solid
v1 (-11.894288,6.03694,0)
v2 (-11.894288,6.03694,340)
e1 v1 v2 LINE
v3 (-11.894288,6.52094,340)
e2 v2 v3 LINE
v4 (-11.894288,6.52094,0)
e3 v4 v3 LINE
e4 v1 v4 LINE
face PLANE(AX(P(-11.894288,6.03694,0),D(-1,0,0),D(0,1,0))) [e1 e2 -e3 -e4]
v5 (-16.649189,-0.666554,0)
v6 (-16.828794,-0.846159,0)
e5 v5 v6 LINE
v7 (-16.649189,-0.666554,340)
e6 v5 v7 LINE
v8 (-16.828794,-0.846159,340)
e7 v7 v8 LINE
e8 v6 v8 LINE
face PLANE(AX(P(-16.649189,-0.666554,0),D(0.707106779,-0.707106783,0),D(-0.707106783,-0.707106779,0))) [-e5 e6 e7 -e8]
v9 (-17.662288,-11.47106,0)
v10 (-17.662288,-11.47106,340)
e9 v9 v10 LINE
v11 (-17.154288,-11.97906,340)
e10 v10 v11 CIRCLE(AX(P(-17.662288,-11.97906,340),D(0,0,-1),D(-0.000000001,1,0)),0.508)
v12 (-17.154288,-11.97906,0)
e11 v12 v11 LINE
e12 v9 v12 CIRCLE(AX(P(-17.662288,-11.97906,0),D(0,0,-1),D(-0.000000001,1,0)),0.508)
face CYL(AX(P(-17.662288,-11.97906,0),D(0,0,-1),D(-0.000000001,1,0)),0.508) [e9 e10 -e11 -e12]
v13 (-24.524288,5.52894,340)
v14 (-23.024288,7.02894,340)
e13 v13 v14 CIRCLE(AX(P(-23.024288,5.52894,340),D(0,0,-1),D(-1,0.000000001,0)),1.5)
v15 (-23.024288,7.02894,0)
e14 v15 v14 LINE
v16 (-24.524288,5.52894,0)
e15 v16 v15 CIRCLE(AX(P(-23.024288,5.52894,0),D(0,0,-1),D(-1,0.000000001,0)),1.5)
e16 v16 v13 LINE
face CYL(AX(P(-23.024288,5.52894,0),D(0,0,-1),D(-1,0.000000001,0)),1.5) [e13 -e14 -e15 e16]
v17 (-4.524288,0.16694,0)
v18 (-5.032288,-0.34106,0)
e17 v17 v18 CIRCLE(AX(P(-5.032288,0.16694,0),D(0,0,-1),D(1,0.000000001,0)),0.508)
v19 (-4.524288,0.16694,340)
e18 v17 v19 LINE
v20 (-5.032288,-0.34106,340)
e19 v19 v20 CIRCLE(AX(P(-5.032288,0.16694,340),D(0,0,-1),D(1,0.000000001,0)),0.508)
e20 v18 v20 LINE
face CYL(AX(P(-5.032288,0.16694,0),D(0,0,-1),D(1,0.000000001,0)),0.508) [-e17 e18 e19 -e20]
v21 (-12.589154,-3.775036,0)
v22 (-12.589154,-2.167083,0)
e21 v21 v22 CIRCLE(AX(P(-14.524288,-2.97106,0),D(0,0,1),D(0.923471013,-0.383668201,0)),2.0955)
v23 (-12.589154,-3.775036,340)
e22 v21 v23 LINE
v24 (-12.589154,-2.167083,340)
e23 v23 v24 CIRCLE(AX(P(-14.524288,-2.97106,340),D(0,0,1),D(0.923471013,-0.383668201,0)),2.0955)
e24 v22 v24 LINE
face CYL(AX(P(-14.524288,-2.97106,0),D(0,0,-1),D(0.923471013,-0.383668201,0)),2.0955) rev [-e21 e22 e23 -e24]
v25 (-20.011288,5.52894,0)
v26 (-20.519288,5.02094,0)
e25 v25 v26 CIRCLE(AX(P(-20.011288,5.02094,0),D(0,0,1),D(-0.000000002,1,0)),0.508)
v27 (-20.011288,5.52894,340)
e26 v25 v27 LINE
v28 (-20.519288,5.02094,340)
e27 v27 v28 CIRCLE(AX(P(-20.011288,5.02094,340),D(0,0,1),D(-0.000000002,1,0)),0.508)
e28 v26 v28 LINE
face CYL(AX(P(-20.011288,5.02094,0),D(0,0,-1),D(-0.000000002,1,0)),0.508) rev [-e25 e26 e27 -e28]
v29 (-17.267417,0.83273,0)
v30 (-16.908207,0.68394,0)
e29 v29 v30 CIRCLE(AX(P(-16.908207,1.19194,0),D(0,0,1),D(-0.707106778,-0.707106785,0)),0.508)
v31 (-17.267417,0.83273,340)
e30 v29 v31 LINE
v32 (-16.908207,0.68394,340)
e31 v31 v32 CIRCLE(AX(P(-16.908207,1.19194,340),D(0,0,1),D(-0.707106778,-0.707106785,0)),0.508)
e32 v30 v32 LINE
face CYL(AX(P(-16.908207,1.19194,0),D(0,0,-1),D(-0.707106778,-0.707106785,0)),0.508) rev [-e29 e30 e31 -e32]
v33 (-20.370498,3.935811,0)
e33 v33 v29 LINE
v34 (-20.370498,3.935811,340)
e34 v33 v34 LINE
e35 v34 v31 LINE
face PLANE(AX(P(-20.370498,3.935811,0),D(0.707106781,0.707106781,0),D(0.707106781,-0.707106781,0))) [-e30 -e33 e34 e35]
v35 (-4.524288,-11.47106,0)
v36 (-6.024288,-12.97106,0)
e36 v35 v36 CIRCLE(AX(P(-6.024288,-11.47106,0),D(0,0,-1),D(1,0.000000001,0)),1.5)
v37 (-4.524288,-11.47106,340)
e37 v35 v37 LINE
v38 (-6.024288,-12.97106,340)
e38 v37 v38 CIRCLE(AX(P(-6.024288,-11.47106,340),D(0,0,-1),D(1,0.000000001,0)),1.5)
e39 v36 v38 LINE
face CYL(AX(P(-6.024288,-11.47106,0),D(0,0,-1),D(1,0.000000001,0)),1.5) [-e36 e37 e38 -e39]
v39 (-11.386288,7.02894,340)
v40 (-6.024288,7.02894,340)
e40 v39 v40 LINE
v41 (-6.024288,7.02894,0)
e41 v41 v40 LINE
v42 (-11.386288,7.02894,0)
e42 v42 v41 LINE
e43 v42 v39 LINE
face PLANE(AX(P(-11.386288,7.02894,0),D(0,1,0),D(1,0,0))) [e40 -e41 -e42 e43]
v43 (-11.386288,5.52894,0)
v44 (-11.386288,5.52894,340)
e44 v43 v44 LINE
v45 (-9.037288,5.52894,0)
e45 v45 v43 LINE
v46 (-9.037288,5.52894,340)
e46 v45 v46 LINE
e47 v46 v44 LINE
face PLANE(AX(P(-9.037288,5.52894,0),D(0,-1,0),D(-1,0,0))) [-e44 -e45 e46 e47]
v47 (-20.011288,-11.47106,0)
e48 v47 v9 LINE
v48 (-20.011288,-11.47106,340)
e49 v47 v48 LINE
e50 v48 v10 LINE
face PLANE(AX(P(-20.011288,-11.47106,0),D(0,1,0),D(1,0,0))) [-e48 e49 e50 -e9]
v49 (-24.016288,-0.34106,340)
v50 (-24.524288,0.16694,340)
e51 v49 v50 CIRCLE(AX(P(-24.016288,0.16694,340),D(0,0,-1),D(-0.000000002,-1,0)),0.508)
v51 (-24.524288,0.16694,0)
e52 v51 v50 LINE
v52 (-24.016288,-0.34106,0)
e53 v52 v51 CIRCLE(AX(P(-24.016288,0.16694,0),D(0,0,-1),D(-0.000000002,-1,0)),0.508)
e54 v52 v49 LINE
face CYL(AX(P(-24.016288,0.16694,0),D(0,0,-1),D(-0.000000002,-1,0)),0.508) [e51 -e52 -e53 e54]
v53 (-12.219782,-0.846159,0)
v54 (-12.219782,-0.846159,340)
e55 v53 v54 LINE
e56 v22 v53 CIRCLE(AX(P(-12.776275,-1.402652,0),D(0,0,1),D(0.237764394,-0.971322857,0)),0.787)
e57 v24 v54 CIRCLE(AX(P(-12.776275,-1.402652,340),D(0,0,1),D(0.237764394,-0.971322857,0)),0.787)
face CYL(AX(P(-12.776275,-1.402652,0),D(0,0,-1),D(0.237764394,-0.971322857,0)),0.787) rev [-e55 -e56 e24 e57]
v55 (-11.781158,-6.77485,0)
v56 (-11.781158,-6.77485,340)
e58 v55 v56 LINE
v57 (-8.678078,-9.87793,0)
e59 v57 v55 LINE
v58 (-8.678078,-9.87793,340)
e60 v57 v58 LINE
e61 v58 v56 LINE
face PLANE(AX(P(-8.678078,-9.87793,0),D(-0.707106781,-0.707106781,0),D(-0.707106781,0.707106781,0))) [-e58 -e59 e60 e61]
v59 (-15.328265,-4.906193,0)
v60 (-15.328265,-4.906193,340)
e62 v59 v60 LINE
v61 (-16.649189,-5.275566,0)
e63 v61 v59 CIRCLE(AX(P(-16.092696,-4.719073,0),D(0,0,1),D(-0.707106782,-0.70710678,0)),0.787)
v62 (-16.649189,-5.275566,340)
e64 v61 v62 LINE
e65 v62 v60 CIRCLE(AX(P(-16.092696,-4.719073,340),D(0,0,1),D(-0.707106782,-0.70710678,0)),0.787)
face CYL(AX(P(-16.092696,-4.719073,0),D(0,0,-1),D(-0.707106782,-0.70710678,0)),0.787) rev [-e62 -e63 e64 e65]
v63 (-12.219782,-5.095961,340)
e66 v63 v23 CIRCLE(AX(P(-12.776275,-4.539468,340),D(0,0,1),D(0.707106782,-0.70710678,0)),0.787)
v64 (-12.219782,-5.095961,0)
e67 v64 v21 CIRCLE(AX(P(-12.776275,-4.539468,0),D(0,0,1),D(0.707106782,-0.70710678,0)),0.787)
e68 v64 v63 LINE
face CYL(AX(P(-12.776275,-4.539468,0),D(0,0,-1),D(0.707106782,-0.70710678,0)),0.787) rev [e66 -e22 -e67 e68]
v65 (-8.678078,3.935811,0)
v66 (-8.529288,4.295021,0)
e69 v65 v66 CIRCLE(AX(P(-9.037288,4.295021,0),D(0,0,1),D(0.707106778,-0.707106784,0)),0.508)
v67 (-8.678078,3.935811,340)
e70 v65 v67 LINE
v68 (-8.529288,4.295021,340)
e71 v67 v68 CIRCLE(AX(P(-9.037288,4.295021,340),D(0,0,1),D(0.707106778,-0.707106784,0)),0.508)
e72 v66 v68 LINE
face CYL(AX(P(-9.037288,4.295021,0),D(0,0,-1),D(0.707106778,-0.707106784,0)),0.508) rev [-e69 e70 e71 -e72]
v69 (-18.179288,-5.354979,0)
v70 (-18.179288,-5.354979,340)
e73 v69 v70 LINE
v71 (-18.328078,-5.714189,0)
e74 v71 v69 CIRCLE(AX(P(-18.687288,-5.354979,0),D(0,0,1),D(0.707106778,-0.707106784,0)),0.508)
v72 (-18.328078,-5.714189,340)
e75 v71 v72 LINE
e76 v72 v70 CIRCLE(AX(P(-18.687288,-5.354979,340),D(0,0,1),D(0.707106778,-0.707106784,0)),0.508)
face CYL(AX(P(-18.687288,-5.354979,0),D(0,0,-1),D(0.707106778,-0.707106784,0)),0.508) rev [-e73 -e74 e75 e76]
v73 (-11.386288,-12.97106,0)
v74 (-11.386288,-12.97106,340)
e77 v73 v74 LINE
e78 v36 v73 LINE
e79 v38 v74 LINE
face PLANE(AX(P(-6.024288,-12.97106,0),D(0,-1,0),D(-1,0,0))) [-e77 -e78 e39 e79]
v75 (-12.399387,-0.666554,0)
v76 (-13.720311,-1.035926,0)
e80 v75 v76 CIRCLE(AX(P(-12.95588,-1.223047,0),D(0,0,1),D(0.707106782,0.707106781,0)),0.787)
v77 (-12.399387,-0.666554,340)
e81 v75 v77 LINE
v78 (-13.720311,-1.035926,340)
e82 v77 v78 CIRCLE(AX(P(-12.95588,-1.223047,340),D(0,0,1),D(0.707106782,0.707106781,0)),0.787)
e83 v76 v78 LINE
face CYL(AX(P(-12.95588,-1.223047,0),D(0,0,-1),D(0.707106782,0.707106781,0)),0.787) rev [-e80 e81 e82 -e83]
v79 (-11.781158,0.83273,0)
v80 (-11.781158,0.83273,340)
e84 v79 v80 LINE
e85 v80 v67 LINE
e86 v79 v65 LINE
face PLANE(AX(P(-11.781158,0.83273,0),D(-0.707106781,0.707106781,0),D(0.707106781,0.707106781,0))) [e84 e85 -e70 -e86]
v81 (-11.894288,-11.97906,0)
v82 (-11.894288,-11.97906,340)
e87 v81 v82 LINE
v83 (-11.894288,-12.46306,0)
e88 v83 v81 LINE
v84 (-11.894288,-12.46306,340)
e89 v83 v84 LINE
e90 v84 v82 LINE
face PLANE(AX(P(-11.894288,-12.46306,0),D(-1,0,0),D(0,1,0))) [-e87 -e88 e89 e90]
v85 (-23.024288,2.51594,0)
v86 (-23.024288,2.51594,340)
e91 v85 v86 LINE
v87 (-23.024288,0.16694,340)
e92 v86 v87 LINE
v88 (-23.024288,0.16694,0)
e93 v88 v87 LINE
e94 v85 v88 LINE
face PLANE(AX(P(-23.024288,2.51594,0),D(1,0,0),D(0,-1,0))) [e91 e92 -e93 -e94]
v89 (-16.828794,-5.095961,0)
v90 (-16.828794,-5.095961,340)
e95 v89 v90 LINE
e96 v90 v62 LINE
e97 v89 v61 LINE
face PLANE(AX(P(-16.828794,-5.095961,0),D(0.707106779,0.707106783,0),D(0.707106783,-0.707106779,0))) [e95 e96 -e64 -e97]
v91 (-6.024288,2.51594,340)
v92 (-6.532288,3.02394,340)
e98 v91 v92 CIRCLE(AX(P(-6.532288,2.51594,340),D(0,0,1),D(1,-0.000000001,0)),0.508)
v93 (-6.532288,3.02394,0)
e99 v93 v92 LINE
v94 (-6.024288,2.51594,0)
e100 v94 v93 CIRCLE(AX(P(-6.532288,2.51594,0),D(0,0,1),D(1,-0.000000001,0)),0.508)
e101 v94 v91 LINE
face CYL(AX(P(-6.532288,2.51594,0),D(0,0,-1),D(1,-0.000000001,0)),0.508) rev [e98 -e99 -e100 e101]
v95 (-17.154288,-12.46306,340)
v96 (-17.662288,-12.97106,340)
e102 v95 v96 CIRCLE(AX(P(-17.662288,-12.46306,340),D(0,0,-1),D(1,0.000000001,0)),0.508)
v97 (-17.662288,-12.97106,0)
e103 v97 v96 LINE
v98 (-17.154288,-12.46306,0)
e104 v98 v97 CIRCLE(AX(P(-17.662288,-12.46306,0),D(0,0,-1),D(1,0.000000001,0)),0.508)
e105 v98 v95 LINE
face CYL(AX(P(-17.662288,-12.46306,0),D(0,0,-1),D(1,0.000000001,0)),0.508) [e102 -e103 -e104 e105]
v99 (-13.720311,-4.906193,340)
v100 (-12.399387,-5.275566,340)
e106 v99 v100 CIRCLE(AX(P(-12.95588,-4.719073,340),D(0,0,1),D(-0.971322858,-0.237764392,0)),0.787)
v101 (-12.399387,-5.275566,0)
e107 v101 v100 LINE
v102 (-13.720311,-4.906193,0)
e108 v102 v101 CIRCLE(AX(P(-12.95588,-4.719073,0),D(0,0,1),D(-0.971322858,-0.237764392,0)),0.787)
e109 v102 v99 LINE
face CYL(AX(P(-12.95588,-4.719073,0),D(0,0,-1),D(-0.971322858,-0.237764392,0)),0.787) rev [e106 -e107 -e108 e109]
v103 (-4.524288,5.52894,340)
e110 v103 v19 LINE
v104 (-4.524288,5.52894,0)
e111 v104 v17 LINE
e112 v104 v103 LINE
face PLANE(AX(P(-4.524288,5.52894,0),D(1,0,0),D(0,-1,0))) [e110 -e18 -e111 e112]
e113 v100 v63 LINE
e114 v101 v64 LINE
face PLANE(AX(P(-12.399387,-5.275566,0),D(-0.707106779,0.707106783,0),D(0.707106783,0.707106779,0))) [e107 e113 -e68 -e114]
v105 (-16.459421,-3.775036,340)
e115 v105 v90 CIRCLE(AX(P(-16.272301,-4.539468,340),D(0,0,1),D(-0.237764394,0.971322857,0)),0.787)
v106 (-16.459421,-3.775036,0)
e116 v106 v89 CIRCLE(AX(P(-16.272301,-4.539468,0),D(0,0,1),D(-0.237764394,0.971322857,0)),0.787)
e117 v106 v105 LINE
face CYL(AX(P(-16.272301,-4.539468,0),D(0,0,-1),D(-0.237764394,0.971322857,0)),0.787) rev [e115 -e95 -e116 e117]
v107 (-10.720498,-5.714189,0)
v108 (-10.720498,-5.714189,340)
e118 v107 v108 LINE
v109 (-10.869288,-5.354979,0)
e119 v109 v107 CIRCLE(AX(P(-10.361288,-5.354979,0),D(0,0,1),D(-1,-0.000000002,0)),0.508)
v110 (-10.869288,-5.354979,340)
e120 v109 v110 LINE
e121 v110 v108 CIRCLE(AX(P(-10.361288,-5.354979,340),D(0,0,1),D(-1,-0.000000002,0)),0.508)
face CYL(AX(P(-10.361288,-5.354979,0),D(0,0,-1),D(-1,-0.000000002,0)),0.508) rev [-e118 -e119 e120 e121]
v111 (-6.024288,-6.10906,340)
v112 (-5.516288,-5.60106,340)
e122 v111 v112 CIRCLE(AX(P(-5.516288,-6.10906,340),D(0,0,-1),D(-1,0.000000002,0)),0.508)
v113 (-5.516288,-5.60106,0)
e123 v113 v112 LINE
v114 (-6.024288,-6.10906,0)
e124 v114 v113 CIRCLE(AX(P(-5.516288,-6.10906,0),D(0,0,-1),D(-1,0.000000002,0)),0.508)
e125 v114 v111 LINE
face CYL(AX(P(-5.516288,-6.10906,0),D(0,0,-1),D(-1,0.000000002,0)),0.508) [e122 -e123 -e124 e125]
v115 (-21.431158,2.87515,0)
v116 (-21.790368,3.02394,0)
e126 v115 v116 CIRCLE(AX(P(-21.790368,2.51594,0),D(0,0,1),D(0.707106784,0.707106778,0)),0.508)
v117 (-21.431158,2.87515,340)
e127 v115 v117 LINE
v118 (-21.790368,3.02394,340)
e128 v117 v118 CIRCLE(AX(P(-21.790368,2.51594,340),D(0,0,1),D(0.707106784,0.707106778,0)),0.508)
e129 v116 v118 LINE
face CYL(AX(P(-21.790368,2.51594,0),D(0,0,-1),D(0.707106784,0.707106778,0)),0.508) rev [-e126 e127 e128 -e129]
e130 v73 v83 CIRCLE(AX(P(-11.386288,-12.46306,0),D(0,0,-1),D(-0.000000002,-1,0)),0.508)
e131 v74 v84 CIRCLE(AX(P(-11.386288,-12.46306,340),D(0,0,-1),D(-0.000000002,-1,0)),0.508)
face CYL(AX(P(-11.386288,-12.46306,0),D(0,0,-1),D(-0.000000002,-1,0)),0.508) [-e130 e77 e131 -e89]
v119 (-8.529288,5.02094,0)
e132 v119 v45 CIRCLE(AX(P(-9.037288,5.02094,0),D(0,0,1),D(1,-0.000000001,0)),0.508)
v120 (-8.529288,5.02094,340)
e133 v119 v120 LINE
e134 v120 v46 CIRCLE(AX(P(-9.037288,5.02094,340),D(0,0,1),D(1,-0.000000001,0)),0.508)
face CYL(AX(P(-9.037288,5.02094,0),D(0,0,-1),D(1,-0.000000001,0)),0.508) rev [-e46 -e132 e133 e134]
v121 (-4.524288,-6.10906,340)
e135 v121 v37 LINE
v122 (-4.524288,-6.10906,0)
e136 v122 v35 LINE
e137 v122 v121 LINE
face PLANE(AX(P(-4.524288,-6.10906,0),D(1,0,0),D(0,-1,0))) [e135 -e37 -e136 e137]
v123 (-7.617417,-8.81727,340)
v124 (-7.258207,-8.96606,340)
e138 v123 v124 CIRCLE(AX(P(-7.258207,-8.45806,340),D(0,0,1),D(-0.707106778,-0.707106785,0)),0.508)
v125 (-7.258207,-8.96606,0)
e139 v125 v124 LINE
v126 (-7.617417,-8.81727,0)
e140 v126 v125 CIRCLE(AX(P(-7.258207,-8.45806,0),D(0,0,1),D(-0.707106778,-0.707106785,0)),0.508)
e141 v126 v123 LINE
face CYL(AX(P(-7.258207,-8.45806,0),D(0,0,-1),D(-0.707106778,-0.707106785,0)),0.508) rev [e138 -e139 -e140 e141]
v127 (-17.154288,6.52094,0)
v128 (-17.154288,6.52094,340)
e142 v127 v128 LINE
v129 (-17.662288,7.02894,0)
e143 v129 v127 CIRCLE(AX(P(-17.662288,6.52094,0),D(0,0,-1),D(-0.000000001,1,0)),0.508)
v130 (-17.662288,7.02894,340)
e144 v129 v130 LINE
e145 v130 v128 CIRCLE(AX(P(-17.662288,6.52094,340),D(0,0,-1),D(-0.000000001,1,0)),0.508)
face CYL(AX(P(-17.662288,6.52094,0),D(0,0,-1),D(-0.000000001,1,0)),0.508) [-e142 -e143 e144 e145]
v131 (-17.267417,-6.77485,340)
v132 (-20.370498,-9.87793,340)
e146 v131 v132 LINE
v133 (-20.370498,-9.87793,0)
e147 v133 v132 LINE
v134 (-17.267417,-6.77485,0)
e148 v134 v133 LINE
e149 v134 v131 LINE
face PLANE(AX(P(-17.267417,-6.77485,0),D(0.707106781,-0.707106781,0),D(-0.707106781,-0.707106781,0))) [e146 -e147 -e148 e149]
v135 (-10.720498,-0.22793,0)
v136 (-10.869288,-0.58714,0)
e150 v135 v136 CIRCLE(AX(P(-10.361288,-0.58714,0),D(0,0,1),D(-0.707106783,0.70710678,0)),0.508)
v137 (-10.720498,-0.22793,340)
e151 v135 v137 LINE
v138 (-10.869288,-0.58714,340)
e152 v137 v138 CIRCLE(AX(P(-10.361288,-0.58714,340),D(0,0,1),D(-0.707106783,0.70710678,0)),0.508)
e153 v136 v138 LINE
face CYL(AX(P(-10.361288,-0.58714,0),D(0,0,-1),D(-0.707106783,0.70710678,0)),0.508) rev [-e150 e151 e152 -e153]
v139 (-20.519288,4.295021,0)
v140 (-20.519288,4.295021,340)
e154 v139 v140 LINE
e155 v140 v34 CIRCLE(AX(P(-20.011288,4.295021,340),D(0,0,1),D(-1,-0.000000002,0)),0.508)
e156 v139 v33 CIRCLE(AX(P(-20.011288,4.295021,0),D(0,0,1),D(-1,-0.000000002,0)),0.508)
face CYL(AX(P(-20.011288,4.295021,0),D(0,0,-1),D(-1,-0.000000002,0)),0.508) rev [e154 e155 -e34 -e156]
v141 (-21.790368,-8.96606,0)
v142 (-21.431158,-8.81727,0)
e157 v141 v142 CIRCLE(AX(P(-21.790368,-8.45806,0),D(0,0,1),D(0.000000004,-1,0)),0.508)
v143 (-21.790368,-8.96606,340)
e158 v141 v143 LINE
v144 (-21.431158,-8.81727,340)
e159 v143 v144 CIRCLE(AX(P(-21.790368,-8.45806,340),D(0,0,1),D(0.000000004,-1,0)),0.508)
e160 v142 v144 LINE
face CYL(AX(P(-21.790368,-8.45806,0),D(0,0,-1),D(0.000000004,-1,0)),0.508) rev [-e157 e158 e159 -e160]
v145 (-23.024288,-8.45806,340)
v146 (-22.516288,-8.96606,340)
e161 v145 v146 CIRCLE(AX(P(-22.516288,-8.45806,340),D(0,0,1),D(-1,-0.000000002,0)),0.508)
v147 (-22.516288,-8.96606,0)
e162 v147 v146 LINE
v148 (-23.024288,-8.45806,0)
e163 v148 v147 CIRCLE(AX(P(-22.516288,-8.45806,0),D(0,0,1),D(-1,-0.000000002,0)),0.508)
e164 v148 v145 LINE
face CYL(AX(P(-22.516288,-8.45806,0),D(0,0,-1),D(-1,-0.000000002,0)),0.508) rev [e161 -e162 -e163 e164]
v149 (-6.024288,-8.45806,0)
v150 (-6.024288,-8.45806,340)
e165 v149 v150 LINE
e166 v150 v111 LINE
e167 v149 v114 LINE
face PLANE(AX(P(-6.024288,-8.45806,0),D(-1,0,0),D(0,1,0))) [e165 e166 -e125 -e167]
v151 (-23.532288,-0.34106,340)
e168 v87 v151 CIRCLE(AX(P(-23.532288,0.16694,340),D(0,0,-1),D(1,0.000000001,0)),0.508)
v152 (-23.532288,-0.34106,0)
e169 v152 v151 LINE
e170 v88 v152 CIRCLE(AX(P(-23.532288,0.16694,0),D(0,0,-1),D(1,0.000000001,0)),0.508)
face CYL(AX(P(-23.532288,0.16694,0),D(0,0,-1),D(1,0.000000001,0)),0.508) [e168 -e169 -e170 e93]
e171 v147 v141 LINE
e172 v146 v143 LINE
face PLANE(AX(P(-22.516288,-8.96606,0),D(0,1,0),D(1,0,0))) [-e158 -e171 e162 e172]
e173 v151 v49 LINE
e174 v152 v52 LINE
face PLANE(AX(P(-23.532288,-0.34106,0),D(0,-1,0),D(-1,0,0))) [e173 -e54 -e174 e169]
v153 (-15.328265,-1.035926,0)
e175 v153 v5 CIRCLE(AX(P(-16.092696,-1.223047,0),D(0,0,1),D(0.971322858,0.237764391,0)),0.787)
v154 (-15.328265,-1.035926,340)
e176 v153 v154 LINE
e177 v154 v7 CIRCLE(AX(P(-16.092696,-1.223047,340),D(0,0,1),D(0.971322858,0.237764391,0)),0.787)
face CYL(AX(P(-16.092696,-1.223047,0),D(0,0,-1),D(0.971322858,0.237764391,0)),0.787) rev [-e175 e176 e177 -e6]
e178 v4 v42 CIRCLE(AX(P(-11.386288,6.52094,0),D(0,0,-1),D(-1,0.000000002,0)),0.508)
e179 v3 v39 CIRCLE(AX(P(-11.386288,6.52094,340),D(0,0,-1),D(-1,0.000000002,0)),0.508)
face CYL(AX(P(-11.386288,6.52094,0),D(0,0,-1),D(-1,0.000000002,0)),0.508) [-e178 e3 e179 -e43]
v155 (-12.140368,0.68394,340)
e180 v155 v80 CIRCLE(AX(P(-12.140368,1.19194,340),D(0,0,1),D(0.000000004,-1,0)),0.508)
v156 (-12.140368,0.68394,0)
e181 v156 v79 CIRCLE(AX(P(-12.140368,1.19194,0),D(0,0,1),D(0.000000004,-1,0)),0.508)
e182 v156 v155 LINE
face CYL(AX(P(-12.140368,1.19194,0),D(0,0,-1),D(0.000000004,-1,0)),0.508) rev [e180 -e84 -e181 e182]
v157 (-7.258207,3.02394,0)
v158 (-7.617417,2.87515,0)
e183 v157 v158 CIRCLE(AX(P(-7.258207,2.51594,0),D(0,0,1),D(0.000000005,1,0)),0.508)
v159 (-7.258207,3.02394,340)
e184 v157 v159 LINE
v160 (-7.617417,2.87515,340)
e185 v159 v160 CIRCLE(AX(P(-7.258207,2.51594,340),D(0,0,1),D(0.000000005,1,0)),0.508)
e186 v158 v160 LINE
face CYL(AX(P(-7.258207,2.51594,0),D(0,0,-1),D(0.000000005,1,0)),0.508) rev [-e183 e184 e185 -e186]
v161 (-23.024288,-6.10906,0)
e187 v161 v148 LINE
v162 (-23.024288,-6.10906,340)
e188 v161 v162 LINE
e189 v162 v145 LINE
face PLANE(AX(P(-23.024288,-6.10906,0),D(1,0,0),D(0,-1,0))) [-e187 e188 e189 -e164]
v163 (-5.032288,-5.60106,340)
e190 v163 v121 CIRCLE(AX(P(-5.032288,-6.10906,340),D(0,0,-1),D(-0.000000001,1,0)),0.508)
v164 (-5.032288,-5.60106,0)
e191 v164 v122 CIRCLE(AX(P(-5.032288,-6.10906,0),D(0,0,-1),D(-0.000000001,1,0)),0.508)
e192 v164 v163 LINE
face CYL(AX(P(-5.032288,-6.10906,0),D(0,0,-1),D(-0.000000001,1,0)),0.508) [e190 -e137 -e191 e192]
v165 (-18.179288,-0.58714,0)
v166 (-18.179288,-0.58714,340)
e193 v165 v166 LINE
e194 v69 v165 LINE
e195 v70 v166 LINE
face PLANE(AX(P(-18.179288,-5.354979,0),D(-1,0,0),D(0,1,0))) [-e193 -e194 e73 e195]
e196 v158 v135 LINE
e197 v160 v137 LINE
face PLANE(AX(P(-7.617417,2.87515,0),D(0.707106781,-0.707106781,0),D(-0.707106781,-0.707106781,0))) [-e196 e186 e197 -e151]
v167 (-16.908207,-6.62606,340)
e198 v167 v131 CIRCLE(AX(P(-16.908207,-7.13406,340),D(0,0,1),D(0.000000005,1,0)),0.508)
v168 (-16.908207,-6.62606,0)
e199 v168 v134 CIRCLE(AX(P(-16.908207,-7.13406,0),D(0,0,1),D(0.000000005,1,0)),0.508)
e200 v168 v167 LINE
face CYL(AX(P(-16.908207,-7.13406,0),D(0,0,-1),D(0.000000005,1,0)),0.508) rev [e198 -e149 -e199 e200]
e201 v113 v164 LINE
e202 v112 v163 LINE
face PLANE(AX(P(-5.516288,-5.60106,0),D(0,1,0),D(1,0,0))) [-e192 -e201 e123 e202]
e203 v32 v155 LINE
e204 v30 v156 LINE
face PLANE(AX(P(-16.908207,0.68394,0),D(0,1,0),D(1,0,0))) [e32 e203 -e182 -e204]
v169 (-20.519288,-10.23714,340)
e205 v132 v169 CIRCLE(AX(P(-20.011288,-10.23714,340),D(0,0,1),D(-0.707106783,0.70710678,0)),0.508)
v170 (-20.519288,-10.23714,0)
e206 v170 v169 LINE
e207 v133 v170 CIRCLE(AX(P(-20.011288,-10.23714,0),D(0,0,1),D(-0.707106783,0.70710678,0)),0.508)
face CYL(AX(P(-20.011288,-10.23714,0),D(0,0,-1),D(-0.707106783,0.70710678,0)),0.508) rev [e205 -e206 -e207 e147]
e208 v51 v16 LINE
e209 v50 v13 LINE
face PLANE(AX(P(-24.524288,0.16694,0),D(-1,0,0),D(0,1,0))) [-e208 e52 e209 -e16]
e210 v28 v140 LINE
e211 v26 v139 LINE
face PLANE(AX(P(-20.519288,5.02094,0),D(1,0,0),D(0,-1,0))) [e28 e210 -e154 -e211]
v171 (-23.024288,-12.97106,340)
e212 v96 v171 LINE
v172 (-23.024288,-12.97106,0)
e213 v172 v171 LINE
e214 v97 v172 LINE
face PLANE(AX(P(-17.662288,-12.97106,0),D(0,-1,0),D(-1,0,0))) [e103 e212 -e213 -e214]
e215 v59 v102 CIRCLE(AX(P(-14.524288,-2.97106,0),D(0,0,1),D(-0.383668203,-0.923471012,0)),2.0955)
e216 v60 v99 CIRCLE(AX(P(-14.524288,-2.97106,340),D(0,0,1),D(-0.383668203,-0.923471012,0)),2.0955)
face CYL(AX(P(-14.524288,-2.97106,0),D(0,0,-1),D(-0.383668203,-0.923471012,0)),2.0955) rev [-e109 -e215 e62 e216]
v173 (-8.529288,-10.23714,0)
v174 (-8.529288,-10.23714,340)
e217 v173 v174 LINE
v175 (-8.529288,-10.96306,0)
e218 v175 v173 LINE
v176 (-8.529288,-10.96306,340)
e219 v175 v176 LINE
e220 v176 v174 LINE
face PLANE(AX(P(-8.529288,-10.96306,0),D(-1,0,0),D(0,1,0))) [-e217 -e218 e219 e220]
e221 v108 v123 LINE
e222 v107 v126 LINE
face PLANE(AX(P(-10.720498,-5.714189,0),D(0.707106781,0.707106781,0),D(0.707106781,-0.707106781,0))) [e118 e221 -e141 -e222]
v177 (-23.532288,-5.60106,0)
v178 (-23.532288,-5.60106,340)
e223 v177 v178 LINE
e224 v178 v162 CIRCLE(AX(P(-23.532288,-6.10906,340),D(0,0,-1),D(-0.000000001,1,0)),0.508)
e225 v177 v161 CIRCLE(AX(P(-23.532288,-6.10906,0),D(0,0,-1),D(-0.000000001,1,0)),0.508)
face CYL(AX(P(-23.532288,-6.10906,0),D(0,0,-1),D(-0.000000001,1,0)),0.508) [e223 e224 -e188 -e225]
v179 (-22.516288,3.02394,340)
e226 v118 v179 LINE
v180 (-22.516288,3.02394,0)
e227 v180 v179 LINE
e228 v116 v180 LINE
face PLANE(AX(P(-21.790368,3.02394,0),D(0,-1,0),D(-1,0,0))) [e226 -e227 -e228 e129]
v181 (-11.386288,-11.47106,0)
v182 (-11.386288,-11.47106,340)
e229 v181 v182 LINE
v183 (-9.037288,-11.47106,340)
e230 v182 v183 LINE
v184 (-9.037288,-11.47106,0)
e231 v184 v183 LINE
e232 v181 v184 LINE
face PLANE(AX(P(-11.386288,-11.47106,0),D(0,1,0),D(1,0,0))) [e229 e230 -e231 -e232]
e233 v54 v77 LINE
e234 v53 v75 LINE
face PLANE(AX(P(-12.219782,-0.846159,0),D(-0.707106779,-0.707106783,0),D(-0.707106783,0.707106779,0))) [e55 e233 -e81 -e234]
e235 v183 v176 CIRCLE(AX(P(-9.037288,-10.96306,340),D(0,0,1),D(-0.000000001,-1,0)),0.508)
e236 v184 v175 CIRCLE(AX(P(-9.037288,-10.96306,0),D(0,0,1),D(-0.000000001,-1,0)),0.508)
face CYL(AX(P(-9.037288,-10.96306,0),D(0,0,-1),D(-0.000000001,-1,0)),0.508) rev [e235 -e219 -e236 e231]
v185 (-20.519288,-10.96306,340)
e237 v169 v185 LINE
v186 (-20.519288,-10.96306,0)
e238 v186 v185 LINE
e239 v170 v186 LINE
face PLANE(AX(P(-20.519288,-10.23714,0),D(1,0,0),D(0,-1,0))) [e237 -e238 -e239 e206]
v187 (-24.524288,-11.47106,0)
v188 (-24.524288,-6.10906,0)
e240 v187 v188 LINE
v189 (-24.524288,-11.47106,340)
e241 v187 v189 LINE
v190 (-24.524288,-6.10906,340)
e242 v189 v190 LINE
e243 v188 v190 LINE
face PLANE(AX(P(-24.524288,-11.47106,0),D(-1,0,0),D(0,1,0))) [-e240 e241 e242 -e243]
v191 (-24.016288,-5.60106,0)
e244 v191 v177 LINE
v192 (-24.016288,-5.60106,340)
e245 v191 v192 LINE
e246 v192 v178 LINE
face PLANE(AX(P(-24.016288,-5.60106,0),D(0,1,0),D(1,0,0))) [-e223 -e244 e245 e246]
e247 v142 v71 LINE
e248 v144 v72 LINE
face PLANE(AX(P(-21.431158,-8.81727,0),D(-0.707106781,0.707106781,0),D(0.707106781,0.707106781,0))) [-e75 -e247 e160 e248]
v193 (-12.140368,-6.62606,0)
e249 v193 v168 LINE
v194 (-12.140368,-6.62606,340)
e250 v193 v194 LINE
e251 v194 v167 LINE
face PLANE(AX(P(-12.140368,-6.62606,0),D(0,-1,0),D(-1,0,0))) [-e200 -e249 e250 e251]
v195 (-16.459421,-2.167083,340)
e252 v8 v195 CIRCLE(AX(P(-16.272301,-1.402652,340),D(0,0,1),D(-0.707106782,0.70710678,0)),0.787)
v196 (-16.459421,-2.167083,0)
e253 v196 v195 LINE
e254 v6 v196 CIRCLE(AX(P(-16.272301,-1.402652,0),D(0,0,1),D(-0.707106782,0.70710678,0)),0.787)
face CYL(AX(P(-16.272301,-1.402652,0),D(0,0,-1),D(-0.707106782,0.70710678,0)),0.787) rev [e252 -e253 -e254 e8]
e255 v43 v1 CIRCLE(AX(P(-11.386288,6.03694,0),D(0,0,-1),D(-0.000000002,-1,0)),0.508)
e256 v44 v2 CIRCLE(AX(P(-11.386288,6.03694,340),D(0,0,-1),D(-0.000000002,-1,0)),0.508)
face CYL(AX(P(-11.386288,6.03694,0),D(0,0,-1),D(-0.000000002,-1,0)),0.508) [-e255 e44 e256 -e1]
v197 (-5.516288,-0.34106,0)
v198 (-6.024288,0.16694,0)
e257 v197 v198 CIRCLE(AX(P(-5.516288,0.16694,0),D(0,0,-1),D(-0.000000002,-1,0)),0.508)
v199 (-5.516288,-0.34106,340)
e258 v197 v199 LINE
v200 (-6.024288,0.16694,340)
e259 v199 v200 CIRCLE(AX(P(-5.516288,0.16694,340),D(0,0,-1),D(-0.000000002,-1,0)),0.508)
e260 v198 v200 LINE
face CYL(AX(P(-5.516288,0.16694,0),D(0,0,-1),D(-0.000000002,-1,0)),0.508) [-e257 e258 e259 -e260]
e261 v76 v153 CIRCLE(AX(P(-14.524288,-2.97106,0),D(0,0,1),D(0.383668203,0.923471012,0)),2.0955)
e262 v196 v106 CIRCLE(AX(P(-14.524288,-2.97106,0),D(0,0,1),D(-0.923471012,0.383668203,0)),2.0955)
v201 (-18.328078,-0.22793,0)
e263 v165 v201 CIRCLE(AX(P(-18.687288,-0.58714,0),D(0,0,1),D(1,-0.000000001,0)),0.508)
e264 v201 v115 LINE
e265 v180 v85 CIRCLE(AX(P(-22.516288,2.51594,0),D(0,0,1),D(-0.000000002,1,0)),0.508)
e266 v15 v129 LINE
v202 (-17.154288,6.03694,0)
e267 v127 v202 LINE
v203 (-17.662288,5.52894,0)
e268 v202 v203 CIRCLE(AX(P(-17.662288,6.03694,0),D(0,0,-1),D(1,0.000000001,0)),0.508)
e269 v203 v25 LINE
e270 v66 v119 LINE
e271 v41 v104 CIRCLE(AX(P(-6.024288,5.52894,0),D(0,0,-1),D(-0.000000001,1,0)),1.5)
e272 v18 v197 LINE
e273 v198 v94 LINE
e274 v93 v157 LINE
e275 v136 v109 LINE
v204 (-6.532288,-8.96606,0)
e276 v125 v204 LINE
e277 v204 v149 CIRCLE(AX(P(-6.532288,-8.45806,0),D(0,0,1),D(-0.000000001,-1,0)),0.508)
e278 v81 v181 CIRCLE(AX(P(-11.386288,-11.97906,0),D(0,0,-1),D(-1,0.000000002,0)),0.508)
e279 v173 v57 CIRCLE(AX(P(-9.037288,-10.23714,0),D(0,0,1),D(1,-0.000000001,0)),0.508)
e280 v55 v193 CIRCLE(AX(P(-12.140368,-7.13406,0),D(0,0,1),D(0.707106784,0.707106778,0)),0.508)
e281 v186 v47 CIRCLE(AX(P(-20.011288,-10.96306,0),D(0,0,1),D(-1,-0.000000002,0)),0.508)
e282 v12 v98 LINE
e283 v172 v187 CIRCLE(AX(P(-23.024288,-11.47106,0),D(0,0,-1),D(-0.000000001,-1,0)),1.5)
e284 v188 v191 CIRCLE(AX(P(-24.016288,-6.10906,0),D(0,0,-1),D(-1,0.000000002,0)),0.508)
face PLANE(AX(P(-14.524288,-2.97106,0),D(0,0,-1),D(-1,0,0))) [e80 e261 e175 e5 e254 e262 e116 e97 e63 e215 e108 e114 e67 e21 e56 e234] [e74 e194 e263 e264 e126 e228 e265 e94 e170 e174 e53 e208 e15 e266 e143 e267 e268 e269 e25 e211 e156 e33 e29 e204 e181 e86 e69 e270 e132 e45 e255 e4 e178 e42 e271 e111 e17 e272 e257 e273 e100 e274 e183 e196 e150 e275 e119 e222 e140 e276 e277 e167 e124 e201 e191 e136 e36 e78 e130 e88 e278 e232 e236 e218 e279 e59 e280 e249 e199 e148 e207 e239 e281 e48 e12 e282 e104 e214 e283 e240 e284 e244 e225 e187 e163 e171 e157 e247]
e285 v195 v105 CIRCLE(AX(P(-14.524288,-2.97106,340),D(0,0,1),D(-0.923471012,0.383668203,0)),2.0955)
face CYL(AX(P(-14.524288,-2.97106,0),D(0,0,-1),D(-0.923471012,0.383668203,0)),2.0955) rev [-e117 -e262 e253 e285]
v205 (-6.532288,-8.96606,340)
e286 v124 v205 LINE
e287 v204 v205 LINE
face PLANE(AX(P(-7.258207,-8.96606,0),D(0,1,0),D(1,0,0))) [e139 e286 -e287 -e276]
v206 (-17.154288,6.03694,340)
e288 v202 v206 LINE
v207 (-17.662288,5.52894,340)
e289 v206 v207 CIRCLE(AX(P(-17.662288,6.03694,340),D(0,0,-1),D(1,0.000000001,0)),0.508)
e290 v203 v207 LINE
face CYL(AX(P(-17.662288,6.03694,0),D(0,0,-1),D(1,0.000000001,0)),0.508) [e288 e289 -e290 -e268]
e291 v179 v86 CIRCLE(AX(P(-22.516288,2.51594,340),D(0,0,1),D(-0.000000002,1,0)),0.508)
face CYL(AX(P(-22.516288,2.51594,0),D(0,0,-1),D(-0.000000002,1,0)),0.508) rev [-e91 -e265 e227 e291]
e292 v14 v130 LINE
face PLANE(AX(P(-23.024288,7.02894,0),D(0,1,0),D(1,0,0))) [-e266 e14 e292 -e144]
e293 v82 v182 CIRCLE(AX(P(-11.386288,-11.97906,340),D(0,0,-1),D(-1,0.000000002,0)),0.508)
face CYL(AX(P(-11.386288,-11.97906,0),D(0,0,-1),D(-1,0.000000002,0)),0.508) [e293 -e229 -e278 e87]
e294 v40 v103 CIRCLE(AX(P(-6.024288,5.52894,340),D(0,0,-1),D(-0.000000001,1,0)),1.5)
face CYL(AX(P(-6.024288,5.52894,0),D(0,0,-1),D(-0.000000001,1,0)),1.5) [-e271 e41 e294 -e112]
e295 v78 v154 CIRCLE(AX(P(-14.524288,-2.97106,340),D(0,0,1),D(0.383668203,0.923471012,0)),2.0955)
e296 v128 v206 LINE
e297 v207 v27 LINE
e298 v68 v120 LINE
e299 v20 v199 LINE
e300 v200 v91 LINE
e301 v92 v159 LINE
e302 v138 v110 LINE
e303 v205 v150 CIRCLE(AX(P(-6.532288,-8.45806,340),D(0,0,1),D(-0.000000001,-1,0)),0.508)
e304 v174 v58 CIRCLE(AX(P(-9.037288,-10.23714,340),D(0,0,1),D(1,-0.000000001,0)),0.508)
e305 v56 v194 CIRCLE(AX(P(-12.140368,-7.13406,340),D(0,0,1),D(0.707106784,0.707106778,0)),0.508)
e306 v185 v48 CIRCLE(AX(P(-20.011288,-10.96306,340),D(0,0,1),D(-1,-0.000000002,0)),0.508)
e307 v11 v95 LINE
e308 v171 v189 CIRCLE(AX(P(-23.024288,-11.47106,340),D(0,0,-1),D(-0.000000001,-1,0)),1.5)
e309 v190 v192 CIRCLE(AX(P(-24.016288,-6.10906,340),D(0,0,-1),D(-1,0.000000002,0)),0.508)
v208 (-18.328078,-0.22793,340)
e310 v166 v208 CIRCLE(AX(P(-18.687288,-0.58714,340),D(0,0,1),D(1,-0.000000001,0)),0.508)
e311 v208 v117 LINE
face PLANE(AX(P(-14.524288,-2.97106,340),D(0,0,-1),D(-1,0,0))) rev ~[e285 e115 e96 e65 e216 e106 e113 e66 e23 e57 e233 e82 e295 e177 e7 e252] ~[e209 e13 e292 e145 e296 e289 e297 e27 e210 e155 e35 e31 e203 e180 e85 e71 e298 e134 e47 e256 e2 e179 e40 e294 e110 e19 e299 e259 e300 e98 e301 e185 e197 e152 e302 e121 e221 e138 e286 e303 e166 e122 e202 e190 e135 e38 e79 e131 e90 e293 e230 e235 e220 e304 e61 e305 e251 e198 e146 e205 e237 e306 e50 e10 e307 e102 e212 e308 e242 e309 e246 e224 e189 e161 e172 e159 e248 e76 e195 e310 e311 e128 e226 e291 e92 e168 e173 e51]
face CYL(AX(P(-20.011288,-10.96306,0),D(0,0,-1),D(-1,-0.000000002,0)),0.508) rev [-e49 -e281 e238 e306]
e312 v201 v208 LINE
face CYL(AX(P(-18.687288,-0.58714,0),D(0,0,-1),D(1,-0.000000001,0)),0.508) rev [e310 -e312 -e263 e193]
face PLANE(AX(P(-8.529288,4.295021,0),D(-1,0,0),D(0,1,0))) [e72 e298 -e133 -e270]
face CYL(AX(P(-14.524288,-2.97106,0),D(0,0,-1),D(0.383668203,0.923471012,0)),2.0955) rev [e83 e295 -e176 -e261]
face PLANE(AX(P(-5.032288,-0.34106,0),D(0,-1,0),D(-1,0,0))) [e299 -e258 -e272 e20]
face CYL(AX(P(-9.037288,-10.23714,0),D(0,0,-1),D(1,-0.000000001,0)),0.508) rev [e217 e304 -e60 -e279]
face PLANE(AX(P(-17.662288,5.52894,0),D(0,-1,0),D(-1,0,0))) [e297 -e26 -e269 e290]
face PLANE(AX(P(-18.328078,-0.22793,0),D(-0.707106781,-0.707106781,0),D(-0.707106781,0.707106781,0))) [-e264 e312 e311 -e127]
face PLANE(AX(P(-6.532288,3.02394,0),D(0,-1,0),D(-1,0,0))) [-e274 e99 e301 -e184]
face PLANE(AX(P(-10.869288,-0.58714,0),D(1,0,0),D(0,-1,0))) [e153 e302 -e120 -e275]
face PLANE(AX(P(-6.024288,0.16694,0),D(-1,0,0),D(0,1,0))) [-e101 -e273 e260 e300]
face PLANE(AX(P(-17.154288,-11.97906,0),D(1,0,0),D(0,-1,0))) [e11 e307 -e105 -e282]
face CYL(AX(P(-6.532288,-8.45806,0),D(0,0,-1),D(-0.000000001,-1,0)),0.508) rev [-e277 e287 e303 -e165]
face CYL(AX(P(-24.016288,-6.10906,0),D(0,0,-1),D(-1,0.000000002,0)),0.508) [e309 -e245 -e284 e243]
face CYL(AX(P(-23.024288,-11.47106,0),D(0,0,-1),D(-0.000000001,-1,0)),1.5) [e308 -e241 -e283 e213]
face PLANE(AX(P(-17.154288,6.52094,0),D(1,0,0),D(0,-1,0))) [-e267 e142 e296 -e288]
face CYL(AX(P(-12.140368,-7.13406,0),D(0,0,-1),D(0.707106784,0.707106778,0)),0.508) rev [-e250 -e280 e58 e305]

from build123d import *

# Parameters (mm, degrees)
EXTRUDE1_DEPTH = 340


with BuildPart() as part:
    # Sketch1 → Extrude1 (new body)
    with BuildSketch(Plane.XY):
        with BuildLine():
            Line((-5.032287798, -0.341059771), (-5.516287798, -0.341059771))
            ThreePointArc((-5.516287798, -0.341059771), (-5.875498042, -0.192270016), (-6.024287798, 0.166940229))
            Line((-6.024287798, 0.166940229), (-6.024287798, 2.515940229))
            ThreePointArc((-6.024287798, 2.515940229), (-6.173077553, 2.875150474), (-6.532287798, 3.023940229))
            Line((-6.532287798, 3.023940229), (-7.258207136, 3.023940229))
            ThreePointArc((-7.258207136, 3.023940229), (-7.45261032, 2.985271032), (-7.617417381, 2.875150474))
            Line((-7.617417381, 2.875150474), (-10.720498042, -0.227930187))
            ThreePointArc((-10.720498042, -0.227930187), (-10.8306186, -0.392737249), (-10.869287798, -0.587140432))
            Line((-10.869287798, -0.587140432), (-10.869287798, -5.354979109))
            ThreePointArc((-10.869287798, -5.354979109), (-10.8306186, -5.549382293), (-10.720498042, -5.714189354))
            Line((-10.720498042, -5.714189354), (-7.617417381, -8.817270016))
            ThreePointArc((-7.617417381, -8.817270016), (-7.45261032, -8.927390573), (-7.258207136, -8.966059771))
            Line((-7.258207136, -8.966059771), (-6.532287798, -8.966059771))
            ThreePointArc((-6.532287798, -8.966059771), (-6.173077553, -8.817270016), (-6.024287798, -8.458059771))
            Line((-6.024287798, -8.458059771), (-6.024287798, -6.109059771))
            ThreePointArc((-6.024287798, -6.109059771), (-5.875498042, -5.749849526), (-5.516287798, -5.601059771))
            Line((-5.516287798, -5.601059771), (-5.032287798, -5.601059771))
            ThreePointArc((-5.032287798, -5.601059771), (-4.673077553, -5.749849526), (-4.524287798, -6.109059771))
            Line((-4.524287798, -6.109059771), (-4.524287798, -11.471059771))
            ThreePointArc((-4.524287798, -11.471059771), (-4.963627626, -12.531719943), (-6.024287798, -12.971059771))
            Line((-6.024287798, -12.971059771), (-11.386287798, -12.971059771))
            ThreePointArc((-11.386287798, -12.971059771), (-11.745498042, -12.822270016), (-11.894287798, -12.463059771))
            Line((-11.894287798, -12.463059771), (-11.894287798, -11.979059771))
            ThreePointArc((-11.894287798, -11.979059771), (-11.745498042, -11.619849526), (-11.386287798, -11.471059771))
            Line((-11.386287798, -11.471059771), (-9.037287798, -11.471059771))
            ThreePointArc((-9.037287798, -11.471059771), (-8.678077553, -11.322270016), (-8.529287798, -10.963059771))
            Line((-8.529287798, -10.963059771), (-8.529287798, -10.237140432))
            ThreePointArc((-8.529287798, -10.237140432), (-8.567956995, -10.042737249), (-8.678077553, -9.877930187))
            Line((-8.678077553, -9.877930187), (-11.781158214, -6.774849526))
            ThreePointArc((-11.781158214, -6.774849526), (-11.945965275, -6.664728968), (-12.140368459, -6.626059771))
            Line((-12.140368459, -6.626059771), (-16.908207136, -6.626059771))
            ThreePointArc((-16.908207136, -6.626059771), (-17.10261032, -6.664728968), (-17.267417381, -6.774849526))
            Line((-17.267417381, -6.774849526), (-20.370498042, -9.877930187))
            ThreePointArc((-20.370498042, -9.877930187), (-20.4806186, -10.042737249), (-20.519287798, -10.237140432))
            Line((-20.519287798, -10.237140432), (-20.519287798, -10.963059771))
            ThreePointArc((-20.519287798, -10.963059771), (-20.370498042, -11.322270016), (-20.011287798, -11.471059771))
            Line((-20.011287798, -11.471059771), (-17.662287798, -11.471059771))
            ThreePointArc((-17.662287798, -11.471059771), (-17.303077553, -11.619849526), (-17.154287798, -11.979059771))
            Line((-17.154287798, -11.979059771), (-17.154287798, -12.463059771))
            ThreePointArc((-17.154287798, -12.463059771), (-17.303077553, -12.822270016), (-17.662287798, -12.971059771))
            Line((-17.662287798, -12.971059771), (-23.024287798, -12.971059771))
            ThreePointArc((-23.024287798, -12.971059771), (-24.084947969, -12.531719943), (-24.524287798, -11.471059771))
            Line((-24.524287798, -11.471059771), (-24.524287798, -6.109059771))
            ThreePointArc((-24.524287798, -6.109059771), (-24.375498042, -5.749849526), (-24.016287798, -5.601059771))
            Line((-24.016287798, -5.601059771), (-23.532287798, -5.601059771))
            ThreePointArc((-23.532287798, -5.601059771), (-23.173077553, -5.749849526), (-23.024287798, -6.109059771))
            Line((-23.024287798, -6.109059771), (-23.024287798, -8.458059771))
            ThreePointArc((-23.024287798, -8.458059771), (-22.875498042, -8.817270016), (-22.516287798, -8.966059771))
            Line((-22.516287798, -8.966059771), (-21.790368459, -8.966059771))
            ThreePointArc((-21.790368459, -8.966059771), (-21.595965275, -8.927390573), (-21.431158214, -8.817270016))
            Line((-21.431158214, -8.817270016), (-18.328077553, -5.714189354))
            ThreePointArc((-18.328077553, -5.714189354), (-18.217956995, -5.549382293), (-18.179287798, -5.354979109))
            Line((-18.179287798, -5.354979109), (-18.179287798, -0.587140432))
            ThreePointArc((-18.179287798, -0.587140432), (-18.217956995, -0.392737249), (-18.328077553, -0.227930187))
            Line((-18.328077553, -0.227930187), (-21.431158214, 2.875150474))
            ThreePointArc((-21.431158214, 2.875150474), (-21.595965275, 2.985271032), (-21.790368459, 3.023940229))
            Line((-21.790368459, 3.023940229), (-22.516287798, 3.023940229))
            ThreePointArc((-22.516287798, 3.023940229), (-22.875498042, 2.875150474), (-23.024287798, 2.515940229))
            Line((-23.024287798, 2.515940229), (-23.024287798, 0.166940229))
            ThreePointArc((-23.024287798, 0.166940229), (-23.173077553, -0.192270016), (-23.532287798, -0.341059771))
            Line((-23.532287798, -0.341059771), (-24.016287798, -0.341059771))
            ThreePointArc((-24.016287798, -0.341059771), (-24.375498042, -0.192270016), (-24.524287798, 0.166940229))
            Line((-24.524287798, 0.166940229), (-24.524287798, 5.528940229))
            ThreePointArc((-24.524287798, 5.528940229), (-24.084947969, 6.589600401), (-23.024287798, 7.028940229))
            Line((-23.024287798, 7.028940229), (-17.662287798, 7.028940229))
            ThreePointArc((-17.662287798, 7.028940229), (-17.303077553, 6.880150474), (-17.154287798, 6.520940229))
            Line((-17.154287798, 6.520940229), (-17.154287798, 6.036940229))
            ThreePointArc((-17.154287798, 6.036940229), (-17.303077553, 5.677729984), (-17.662287798, 5.528940229))
            Line((-17.662287798, 5.528940229), (-20.011287798, 5.528940229))
            ThreePointArc((-20.011287798, 5.528940229), (-20.370498042, 5.380150474), (-20.519287798, 5.020940229))
            Line((-20.519287798, 5.020940229), (-20.519287798, 4.295020891))
            ThreePointArc((-20.519287798, 4.295020891), (-20.4806186, 4.100617707), (-20.370498042, 3.935810646))
            Line((-20.370498042, 3.935810646), (-17.267417381, 0.832729984))
            ThreePointArc((-17.267417381, 0.832729984), (-17.10261032, 0.722609427), (-16.908207136, 0.683940229))
            Line((-16.908207136, 0.683940229), (-12.140368459, 0.683940229))
            ThreePointArc((-12.140368459, 0.683940229), (-11.945965275, 0.722609427), (-11.781158214, 0.832729984))
            Line((-11.781158214, 0.832729984), (-8.678077553, 3.935810646))
            ThreePointArc((-8.678077553, 3.935810646), (-8.567956995, 4.100617707), (-8.529287798, 4.295020891))
            Line((-8.529287798, 4.295020891), (-8.529287798, 5.020940229))
            ThreePointArc((-8.529287798, 5.020940229), (-8.678077553, 5.380150474), (-9.037287798, 5.528940229))
            Line((-9.037287798, 5.528940229), (-11.386287798, 5.528940229))
            ThreePointArc((-11.386287798, 5.528940229), (-11.745498042, 5.677729984), (-11.894287798, 6.036940229))
            Line((-11.894287798, 6.036940229), (-11.894287798, 6.520940229))
            ThreePointArc((-11.894287798, 6.520940229), (-11.745498042, 6.880150474), (-11.386287798, 7.028940229))
            Line((-11.386287798, 7.028940229), (-6.024287798, 7.028940229))
            ThreePointArc((-6.024287798, 7.028940229), (-4.963627626, 6.589600401), (-4.524287798, 5.528940229))
            Line((-4.524287798, 5.528940229), (-4.524287798, 0.166940229))
            ThreePointArc((-4.524287798, 0.166940229), (-4.673077553, -0.192270016), (-5.032287798, -0.341059771))
        make_face()
        with BuildLine():
            Line((-12.399386954, -5.275565737), (-12.219781831, -5.095960615))
            ThreePointArc((-12.219781831, -5.095960615), (-12.018349781, -4.327527582), (-12.589154291, -3.775036489))
            ThreePointArc((-12.589154291, -3.775036489), (-12.428787798, -2.971059771), (-12.589154291, -2.167083053))
            ThreePointArc((-12.589154291, -2.167083053), (-12.018349781, -1.61459196), (-12.219781831, -0.846158927))
            Line((-12.219781831, -0.846158927), (-12.399386954, -0.666553805))
            ThreePointArc((-12.399386954, -0.666553805), (-13.167819987, -0.465121754), (-13.72031108, -1.035926265))
            ThreePointArc((-13.72031108, -1.035926265), (-14.524287798, -0.875559771), (-15.328264516, -1.035926265))
            ThreePointArc((-15.328264516, -1.035926265), (-15.880755608, -0.465121754), (-16.649188641, -0.666553805))
            Line((-16.649188641, -0.666553805), (-16.828793764, -0.846158927))
            ThreePointArc((-16.828793764, -0.846158927), (-17.030225814, -1.61459196), (-16.459421304, -2.167083053))
            ThreePointArc((-16.459421304, -2.167083053), (-16.619787798, -2.971059771), (-16.459421304, -3.775036489))
            ThreePointArc((-16.459421304, -3.775036489), (-17.030225814, -4.327527582), (-16.828793764, -5.095960615))
            Line((-16.828793764, -5.095960615), (-16.649188641, -5.275565737))
            ThreePointArc((-16.649188641, -5.275565737), (-15.880755608, -5.476997788), (-15.328264516, -4.906193277))
            ThreePointArc((-15.328264516, -4.906193277), (-14.524287798, -5.066559771), (-13.72031108, -4.906193277))
            ThreePointArc((-13.72031108, -4.906193277), (-13.167819987, -5.476997788), (-12.399386954, -5.275565737))
        make_face(mode=Mode.SUBTRACT)
    extrude(amount=EXTRUDE1_DEPTH)


solid = part.part
